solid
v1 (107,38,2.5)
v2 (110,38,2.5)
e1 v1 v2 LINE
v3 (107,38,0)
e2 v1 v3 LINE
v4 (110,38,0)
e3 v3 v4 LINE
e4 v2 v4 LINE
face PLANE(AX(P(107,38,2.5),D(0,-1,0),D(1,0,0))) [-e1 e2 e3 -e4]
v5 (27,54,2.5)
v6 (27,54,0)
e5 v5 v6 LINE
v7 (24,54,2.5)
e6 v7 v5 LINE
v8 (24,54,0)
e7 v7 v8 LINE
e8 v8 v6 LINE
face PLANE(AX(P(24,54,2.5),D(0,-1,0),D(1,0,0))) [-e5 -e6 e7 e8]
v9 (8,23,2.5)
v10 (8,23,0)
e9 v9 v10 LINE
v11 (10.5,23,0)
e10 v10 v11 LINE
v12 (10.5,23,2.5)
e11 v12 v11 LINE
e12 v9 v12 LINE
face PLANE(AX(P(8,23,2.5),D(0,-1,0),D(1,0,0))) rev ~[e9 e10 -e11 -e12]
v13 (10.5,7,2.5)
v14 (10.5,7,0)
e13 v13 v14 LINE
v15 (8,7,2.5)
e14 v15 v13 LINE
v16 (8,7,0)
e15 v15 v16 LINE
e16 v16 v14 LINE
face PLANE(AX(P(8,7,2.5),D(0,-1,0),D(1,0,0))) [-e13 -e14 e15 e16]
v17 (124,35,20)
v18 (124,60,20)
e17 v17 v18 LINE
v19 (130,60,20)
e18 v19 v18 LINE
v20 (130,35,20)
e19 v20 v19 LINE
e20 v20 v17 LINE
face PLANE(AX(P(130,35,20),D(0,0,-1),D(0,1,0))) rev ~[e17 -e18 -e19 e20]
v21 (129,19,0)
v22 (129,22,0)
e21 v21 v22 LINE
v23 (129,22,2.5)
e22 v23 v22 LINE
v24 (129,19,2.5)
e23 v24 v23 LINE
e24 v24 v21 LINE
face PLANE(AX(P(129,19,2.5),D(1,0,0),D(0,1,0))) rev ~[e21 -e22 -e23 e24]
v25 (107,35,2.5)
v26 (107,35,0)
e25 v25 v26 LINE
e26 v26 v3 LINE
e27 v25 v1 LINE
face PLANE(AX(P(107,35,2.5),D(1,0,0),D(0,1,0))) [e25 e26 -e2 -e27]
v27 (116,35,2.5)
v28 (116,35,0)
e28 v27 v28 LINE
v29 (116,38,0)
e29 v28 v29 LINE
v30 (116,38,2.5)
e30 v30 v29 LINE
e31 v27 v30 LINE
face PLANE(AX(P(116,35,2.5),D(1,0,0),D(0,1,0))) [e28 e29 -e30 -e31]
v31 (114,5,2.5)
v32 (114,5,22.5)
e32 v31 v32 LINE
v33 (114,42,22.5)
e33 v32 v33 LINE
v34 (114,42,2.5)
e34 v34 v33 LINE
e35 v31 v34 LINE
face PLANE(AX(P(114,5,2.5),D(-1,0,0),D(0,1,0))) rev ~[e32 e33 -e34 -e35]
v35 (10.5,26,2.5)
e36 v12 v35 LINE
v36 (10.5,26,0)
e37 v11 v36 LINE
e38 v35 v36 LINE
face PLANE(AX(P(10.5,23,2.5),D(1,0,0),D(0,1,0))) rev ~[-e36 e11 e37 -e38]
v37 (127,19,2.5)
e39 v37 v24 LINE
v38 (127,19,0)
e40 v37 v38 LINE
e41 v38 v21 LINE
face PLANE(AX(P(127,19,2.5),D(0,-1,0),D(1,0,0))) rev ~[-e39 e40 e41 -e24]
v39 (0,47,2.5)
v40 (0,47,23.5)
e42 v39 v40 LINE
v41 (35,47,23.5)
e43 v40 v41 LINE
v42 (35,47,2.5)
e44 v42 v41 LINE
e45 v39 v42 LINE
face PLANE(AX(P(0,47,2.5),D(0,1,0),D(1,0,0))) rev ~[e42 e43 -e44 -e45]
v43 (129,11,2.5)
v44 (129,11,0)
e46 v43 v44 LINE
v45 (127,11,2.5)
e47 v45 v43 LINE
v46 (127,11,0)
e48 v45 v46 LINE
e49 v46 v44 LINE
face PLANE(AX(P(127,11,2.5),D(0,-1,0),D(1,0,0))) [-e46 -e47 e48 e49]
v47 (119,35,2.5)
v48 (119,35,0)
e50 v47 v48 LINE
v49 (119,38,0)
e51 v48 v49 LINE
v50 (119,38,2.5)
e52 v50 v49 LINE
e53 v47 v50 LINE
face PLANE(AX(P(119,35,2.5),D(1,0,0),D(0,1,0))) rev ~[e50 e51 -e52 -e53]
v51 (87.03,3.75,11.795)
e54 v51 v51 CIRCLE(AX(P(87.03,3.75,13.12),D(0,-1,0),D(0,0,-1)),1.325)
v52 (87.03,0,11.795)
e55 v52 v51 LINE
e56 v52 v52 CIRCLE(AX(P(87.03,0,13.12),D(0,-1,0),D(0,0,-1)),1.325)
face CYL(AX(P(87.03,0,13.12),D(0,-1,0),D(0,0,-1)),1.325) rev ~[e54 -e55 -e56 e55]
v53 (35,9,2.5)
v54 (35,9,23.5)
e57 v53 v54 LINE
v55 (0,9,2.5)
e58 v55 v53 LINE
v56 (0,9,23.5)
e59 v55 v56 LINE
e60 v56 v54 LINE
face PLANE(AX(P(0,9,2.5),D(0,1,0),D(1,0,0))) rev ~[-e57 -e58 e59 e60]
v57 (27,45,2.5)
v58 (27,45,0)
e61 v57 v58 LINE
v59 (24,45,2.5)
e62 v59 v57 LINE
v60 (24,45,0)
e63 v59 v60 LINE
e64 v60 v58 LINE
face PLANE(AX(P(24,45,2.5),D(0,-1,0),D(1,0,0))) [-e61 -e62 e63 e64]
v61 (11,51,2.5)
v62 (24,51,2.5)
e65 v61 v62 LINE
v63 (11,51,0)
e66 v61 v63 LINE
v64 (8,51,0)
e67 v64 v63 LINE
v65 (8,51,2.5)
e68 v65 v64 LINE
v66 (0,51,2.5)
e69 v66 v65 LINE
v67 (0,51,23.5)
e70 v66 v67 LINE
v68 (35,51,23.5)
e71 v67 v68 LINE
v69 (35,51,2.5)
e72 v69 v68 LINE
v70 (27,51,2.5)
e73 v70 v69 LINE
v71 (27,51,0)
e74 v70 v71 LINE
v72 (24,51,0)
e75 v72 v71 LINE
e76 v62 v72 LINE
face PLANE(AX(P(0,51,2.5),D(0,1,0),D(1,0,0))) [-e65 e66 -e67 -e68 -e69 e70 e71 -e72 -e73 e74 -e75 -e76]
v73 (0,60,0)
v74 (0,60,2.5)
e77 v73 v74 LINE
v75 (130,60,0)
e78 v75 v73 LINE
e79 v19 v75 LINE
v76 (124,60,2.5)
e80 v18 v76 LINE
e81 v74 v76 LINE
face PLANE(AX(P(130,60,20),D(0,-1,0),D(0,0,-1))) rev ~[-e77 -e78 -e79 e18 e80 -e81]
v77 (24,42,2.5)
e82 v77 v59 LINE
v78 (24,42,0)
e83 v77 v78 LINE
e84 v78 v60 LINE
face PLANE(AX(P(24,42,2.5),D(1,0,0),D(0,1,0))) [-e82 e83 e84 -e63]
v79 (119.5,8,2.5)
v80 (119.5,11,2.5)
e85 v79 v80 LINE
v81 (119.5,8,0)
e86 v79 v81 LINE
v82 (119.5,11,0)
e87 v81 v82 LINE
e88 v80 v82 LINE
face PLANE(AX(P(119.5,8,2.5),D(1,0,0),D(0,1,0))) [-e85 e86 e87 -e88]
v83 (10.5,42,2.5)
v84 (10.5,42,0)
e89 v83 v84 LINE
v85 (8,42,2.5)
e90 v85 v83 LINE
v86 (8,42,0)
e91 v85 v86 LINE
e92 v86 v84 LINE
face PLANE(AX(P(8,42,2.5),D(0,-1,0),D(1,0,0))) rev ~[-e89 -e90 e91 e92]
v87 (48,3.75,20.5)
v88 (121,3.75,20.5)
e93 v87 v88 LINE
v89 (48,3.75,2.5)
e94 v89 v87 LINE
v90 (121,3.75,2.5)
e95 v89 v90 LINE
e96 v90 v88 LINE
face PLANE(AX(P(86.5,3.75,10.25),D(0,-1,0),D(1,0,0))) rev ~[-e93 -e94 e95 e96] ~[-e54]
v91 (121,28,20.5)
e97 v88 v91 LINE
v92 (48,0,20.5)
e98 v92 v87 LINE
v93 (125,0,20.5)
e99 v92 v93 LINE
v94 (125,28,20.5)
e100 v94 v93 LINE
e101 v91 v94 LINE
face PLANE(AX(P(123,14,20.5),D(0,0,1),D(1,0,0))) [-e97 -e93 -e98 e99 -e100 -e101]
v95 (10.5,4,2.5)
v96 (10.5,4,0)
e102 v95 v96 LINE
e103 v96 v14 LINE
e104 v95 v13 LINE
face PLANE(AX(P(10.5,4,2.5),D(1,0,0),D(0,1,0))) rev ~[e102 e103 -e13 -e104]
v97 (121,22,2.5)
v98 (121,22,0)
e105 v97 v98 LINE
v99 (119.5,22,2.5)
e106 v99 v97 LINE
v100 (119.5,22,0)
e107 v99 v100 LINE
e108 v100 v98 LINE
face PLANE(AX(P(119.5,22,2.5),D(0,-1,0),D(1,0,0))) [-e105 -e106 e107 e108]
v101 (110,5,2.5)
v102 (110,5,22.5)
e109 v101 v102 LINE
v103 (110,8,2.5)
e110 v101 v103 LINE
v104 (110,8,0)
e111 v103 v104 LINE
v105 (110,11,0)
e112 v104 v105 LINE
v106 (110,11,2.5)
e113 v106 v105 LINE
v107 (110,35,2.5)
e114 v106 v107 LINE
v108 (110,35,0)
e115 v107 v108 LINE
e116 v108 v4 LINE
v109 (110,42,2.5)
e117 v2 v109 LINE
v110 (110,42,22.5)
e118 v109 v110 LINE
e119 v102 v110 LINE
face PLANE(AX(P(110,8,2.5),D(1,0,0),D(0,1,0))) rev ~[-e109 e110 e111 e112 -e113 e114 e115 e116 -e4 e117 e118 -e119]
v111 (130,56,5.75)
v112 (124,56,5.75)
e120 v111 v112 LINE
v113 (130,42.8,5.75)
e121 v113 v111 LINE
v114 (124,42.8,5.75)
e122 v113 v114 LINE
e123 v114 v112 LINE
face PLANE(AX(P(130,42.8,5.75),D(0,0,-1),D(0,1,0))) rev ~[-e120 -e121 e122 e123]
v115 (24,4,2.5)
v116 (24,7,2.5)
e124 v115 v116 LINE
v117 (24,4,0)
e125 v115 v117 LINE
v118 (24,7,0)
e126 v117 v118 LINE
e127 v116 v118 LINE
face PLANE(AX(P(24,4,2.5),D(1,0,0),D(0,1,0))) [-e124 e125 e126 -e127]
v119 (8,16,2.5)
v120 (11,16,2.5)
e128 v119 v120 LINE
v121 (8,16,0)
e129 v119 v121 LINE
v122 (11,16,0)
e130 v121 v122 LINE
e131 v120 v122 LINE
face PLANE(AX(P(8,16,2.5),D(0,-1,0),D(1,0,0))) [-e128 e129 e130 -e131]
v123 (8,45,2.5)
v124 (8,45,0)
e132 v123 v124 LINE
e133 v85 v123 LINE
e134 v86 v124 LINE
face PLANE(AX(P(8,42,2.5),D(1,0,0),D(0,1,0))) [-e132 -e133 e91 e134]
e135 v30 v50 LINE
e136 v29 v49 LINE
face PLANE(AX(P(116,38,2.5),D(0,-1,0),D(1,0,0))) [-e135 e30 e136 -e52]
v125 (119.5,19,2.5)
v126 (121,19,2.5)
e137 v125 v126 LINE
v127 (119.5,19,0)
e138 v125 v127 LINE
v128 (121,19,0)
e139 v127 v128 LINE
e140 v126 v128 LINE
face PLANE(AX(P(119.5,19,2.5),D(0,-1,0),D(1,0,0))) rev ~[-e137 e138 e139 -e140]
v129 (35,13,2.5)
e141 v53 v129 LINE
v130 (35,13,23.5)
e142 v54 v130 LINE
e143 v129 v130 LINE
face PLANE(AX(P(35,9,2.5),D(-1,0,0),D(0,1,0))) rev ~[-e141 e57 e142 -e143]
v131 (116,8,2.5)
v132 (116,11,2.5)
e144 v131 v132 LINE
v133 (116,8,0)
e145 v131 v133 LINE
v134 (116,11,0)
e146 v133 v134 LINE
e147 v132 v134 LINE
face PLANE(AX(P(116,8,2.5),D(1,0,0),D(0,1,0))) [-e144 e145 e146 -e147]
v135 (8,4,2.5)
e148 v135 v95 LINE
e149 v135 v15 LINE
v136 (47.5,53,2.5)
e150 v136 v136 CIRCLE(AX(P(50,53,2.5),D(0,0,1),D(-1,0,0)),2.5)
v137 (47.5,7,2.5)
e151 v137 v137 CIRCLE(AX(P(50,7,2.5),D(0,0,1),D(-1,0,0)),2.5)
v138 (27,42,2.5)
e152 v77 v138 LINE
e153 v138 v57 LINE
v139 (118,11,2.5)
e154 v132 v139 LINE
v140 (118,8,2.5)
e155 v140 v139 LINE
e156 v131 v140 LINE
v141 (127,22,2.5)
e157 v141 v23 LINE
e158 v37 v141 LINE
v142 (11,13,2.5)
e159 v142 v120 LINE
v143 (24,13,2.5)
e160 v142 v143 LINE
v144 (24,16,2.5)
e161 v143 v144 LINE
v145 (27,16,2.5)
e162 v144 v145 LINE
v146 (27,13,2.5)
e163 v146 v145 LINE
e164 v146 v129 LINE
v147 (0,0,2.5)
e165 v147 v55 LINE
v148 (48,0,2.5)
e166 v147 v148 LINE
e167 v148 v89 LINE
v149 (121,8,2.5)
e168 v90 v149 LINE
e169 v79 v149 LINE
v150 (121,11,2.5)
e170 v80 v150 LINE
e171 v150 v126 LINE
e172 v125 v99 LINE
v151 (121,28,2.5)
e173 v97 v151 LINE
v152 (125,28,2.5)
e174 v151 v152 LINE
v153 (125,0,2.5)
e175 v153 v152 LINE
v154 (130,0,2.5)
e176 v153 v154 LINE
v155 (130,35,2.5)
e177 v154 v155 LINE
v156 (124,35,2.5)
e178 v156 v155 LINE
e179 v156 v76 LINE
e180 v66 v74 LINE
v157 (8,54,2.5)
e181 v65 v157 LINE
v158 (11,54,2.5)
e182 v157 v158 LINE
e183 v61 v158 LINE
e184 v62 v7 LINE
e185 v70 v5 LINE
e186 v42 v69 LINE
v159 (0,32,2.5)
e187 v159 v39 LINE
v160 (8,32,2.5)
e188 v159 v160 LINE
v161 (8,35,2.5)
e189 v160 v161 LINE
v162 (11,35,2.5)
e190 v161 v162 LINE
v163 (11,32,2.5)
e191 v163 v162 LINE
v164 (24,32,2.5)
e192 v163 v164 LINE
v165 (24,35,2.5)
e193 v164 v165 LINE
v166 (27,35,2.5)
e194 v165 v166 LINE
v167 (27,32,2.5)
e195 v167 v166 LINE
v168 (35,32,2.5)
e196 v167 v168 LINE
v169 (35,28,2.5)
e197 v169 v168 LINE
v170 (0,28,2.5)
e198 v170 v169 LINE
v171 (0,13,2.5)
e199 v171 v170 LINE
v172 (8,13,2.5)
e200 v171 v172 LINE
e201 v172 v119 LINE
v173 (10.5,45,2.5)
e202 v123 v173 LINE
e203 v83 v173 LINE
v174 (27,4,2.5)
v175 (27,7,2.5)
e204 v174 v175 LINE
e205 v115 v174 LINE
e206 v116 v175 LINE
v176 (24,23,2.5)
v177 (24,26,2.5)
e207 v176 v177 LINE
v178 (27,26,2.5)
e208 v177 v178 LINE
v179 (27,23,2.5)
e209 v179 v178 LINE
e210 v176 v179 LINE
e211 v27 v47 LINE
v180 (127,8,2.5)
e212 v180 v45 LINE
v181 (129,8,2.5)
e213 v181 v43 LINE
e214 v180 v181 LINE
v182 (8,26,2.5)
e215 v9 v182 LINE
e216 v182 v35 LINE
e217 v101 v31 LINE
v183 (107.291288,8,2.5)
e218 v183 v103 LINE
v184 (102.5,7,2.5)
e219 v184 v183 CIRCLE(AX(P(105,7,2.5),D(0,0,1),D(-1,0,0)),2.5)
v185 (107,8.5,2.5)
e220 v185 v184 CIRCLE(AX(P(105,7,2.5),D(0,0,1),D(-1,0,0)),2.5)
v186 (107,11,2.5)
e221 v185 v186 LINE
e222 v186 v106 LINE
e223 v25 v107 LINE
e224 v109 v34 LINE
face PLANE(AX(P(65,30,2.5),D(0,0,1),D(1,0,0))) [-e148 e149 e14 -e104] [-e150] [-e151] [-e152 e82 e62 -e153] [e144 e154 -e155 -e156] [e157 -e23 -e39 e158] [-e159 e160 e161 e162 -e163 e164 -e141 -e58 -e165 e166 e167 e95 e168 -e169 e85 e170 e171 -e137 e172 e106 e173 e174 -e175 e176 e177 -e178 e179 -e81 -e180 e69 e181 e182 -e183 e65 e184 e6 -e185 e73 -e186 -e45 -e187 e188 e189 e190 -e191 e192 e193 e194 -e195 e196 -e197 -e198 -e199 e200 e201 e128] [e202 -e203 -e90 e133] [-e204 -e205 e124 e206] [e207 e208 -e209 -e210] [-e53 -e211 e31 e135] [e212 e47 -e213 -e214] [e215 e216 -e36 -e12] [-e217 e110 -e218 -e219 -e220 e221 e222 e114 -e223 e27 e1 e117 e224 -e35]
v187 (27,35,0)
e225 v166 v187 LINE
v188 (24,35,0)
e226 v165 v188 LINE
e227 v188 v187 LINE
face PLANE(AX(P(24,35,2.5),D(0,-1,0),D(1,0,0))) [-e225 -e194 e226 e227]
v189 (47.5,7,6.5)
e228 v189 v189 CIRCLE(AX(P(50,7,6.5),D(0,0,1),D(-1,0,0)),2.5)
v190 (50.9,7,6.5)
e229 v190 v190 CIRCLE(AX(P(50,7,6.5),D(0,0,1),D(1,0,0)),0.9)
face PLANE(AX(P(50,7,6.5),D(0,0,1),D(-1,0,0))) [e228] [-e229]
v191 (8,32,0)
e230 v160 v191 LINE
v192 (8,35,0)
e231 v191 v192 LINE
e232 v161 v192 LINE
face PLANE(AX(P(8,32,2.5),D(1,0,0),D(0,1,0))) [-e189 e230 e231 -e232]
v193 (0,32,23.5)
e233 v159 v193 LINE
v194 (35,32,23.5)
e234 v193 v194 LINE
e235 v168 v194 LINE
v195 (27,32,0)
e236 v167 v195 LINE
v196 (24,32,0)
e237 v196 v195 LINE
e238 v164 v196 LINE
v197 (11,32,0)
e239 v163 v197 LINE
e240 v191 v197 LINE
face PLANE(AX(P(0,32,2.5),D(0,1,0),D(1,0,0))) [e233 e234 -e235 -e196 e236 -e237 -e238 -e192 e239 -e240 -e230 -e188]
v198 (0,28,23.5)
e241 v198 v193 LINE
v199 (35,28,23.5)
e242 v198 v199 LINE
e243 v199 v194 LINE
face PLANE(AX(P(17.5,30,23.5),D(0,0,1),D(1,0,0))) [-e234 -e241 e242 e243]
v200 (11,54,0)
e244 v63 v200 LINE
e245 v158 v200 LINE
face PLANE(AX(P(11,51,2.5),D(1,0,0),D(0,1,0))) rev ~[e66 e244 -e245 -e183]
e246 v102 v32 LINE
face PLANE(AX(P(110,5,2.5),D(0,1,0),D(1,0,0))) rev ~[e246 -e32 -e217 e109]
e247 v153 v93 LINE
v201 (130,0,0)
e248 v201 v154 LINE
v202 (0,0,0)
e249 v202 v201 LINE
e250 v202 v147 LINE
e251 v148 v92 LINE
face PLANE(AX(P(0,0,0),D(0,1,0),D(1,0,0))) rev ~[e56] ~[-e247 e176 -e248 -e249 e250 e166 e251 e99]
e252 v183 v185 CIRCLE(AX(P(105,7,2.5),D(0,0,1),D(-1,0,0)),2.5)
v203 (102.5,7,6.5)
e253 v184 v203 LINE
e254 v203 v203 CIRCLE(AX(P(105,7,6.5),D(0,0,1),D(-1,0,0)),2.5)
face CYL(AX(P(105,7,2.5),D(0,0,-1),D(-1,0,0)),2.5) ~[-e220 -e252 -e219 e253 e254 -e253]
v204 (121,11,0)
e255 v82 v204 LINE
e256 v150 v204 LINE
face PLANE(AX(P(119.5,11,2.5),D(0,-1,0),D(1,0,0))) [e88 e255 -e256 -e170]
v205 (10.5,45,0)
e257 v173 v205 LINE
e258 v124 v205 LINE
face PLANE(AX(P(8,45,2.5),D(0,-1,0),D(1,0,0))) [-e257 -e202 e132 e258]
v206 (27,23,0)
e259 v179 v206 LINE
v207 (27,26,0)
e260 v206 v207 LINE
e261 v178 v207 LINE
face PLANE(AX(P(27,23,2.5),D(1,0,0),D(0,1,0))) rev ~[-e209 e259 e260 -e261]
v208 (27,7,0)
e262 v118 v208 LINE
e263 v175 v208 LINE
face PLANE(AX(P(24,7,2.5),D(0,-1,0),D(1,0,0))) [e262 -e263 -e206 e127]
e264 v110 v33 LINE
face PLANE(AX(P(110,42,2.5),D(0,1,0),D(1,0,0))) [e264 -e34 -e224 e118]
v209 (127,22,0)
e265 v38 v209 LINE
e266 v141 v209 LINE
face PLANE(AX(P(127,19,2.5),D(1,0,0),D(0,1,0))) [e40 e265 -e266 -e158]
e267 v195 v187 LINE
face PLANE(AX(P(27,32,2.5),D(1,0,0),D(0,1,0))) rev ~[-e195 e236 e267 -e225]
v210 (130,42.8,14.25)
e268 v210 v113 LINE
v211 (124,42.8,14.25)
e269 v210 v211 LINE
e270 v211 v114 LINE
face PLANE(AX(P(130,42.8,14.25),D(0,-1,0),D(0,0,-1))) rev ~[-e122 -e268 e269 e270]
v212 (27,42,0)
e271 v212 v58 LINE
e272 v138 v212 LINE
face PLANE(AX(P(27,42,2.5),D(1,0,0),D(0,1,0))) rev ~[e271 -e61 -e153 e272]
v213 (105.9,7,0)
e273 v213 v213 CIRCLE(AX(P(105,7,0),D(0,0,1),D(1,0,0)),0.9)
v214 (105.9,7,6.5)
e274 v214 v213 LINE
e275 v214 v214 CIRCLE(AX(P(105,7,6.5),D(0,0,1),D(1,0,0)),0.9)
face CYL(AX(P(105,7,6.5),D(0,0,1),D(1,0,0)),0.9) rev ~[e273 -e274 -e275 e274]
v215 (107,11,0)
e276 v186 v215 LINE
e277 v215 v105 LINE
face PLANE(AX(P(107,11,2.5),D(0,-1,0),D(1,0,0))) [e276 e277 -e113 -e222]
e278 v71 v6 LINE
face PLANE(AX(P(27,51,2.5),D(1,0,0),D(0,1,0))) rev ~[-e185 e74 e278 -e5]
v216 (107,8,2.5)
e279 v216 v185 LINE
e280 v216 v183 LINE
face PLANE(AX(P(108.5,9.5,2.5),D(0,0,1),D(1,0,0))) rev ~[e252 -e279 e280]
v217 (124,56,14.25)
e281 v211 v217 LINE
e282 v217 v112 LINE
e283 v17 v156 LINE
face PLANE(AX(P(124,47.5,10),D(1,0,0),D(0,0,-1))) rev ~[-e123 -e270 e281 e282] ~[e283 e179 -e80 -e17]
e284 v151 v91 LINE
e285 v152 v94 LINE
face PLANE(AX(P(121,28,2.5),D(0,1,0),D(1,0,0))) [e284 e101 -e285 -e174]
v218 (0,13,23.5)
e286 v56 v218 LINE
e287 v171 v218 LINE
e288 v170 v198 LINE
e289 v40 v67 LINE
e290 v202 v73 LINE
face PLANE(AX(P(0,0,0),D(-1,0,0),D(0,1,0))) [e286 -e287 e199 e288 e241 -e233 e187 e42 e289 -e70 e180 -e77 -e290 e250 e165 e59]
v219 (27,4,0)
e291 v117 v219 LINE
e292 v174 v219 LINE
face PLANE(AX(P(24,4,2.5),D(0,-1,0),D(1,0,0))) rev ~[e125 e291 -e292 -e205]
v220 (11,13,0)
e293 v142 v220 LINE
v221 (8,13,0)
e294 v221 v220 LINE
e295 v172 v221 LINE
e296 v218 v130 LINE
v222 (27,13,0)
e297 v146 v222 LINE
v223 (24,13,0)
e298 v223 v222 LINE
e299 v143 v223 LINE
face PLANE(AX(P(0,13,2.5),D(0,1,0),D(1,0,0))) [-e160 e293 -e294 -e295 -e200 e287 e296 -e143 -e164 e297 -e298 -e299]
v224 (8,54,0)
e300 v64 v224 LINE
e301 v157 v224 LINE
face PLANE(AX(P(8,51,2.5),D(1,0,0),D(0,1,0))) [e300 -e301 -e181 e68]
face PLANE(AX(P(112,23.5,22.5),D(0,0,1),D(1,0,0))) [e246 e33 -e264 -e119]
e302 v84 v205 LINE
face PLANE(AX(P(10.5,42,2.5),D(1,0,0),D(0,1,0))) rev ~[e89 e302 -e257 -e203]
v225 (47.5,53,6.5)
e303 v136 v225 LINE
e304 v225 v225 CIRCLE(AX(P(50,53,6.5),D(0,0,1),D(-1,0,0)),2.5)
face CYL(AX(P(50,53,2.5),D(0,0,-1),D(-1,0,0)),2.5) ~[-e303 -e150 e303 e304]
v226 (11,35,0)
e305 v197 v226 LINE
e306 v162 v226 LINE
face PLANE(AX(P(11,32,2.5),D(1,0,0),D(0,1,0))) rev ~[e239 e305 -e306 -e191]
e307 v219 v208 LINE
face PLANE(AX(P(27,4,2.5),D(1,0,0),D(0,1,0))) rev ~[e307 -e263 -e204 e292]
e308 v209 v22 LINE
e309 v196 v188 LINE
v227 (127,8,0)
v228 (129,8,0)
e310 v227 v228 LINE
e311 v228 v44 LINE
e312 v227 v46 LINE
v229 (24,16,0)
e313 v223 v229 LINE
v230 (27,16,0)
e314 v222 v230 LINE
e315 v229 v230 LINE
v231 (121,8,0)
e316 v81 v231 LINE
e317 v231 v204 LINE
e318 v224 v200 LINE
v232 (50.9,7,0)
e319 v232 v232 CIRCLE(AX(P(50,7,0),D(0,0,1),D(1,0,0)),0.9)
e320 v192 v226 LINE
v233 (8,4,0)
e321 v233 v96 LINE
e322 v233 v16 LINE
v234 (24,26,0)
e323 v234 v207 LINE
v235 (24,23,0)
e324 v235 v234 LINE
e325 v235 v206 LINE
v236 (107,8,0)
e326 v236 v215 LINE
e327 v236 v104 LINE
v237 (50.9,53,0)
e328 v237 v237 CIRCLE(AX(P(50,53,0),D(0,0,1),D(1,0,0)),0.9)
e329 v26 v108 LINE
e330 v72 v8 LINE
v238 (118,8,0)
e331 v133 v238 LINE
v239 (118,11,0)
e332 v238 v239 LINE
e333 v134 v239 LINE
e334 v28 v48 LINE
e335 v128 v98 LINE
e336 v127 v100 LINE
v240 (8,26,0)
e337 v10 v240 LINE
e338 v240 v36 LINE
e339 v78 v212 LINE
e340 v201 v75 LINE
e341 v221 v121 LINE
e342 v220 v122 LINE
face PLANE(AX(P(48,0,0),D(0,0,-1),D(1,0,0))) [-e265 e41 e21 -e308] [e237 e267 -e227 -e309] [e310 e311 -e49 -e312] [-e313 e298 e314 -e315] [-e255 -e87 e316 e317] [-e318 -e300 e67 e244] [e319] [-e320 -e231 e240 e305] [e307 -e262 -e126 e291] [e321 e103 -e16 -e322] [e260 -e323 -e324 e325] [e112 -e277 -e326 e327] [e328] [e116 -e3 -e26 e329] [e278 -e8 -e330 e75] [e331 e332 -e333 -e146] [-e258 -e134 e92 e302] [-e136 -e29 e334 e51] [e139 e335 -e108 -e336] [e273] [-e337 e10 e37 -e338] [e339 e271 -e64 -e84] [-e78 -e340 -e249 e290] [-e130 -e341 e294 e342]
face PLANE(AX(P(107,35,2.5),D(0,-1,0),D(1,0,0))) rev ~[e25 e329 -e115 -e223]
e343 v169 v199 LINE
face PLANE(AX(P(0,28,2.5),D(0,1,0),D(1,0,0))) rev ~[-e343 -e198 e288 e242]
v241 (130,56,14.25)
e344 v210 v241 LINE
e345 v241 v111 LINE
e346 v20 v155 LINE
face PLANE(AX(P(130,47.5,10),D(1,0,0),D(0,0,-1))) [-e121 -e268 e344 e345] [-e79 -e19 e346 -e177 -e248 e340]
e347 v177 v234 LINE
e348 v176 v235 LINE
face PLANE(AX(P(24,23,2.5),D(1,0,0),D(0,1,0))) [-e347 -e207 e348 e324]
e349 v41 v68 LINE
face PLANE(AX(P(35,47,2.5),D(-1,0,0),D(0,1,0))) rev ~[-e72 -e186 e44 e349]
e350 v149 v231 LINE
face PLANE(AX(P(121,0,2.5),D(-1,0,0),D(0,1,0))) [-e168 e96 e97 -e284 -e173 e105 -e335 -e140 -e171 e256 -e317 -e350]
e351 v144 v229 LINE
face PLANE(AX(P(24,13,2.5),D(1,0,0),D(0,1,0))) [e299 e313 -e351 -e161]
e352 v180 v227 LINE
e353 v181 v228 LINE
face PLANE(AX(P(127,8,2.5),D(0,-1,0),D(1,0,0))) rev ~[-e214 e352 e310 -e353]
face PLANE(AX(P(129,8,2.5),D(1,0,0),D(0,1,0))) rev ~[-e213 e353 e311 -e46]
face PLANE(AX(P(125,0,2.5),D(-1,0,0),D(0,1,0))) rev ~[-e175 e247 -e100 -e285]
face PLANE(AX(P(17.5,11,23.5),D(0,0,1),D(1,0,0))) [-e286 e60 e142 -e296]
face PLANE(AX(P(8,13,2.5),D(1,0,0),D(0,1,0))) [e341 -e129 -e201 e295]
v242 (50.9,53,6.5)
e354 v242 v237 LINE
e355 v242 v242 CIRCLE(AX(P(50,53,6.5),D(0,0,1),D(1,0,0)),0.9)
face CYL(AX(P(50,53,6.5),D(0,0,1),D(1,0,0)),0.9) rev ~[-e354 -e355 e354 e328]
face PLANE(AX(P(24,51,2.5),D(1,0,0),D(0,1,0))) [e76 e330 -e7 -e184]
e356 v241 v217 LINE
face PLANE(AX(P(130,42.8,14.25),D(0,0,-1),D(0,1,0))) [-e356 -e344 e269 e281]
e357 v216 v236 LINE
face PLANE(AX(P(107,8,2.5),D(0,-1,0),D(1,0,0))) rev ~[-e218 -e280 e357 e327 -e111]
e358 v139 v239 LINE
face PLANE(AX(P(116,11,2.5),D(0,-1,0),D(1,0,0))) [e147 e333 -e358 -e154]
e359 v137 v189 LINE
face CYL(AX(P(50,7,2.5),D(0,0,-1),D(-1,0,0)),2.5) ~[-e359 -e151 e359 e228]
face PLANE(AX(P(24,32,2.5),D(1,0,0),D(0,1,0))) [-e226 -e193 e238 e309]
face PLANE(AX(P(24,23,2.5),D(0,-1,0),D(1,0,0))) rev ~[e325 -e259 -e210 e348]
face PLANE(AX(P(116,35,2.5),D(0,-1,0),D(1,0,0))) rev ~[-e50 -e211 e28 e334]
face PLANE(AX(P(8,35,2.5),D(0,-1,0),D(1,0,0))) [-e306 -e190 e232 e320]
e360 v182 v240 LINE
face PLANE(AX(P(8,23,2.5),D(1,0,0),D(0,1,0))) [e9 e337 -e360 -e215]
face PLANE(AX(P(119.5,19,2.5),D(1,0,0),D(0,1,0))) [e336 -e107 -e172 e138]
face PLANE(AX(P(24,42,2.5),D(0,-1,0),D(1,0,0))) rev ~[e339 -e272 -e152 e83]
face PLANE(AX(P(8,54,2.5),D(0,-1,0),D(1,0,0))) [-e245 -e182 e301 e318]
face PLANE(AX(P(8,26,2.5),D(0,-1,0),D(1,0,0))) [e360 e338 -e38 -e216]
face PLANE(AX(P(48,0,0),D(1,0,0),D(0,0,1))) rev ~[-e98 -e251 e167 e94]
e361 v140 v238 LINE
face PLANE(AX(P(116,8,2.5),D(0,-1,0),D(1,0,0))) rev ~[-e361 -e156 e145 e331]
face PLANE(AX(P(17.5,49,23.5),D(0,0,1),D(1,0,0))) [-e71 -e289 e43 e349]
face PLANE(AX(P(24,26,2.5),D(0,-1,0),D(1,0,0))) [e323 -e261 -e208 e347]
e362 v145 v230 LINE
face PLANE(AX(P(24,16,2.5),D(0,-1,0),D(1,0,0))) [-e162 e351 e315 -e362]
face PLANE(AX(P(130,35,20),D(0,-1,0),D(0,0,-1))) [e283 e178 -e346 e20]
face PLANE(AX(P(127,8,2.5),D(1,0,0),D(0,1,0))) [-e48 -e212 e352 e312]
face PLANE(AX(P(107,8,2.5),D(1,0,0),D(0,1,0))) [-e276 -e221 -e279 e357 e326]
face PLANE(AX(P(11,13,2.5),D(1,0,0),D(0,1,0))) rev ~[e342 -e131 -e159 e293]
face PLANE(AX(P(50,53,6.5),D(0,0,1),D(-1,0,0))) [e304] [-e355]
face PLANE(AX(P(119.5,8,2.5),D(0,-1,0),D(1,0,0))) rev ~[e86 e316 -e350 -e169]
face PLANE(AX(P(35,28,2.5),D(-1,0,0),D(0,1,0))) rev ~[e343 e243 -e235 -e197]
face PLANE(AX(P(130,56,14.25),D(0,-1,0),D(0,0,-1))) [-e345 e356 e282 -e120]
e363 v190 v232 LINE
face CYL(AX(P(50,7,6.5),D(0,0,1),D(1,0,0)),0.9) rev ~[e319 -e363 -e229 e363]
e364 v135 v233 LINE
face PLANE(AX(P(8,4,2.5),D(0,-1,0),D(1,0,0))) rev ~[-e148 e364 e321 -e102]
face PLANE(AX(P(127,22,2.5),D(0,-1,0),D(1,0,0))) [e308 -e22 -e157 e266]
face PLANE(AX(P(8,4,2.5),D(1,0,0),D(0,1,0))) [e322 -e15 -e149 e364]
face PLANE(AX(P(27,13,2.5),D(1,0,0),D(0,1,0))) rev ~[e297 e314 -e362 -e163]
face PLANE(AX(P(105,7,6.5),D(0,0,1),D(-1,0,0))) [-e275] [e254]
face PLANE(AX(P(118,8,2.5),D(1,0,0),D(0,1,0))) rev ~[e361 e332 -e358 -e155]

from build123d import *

# Parameters (mm, degrees)
SKETCH1_W           = 130
SKETCH1_H           = 60
BOSS_EXTRUDE1_DEPTH = 2.5
SKETCH2_R           = 2.5
BOSS_EXTRUDE2_DEPTH = 4
SKETCH3_W           = 4
SKETCH3_H           = 37
BOSS_EXTRUDE3_DEPTH = 20
SKETCH4_W           = 4
SKETCH4_H           = 28
BOSS_EXTRUDE4_DEPTH = 18
SKETCH5_R           = 0.9
CUT_EXTRUDE1_DEPTH  = 145.069427708
SKETCH6_W           = 3
SKETCH6_H           = 3
SKETCH6_W_2         = 1.5
SKETCH6_W_3         = 2
CUT_EXTRUDE2_DEPTH  = 145.568322948
SKETCH7_W           = 20
SKETCH7_H           = 25
SKETCH7_W_2         = 8.5
SKETCH7_H_2         = 13.2
BOSS_EXTRUDE5_DEPTH = 6
SKETCH8_W           = 35
SKETCH8_H           = 4
BOSS_EXTRUDE6_DEPTH = 21
SKETCH9_W           = 3
SKETCH9_H           = 3
SKETCH9_W_2         = 2.5
CUT_EXTRUDE3_DEPTH  = 145.710054937
SKETCH11_W          = 77
SKETCH11_H          = 20.5
BOSS_EXTRUDE8_DEPTH = 3.75
SKETCH12_R          = 1.325
CUT_EXTRUDE4_DEPTH  = 146.09393509


with BuildPart() as part:
    # Sketch1 → Boss-Extrude1 (new body)
    with BuildSketch(Plane.XY):
        with Locations((65, 30)):
            Rectangle(SKETCH1_W, SKETCH1_H)
    extrude(amount=BOSS_EXTRUDE1_DEPTH)

    # Sketch2 → Boss-Extrude2 (add)
    with BuildSketch(Plane.XY.offset(2.5)):
        with Locations(Location((50, 7, 0), (0, 0, 180))):
            Circle(SKETCH2_R)
        with Locations(Location((105, 7, 0), (0, 0, 180))):
            Circle(SKETCH2_R)
        with Locations(Location((50, 53, 0), (0, 0, 180))):
            Circle(SKETCH2_R)
    extrude(amount=BOSS_EXTRUDE2_DEPTH)

    # Sketch3 → Boss-Extrude3 (add)
    with BuildSketch(Plane.XY.offset(2.5)):
        with Locations((112, 23.5)):
            Rectangle(SKETCH3_W, SKETCH3_H)
    extrude(amount=BOSS_EXTRUDE3_DEPTH)

    # Sketch4 → Boss-Extrude4 (add)
    with BuildSketch(Plane.XY.offset(2.5)):
        with Locations((123, 14)):
            Rectangle(SKETCH4_W, SKETCH4_H)
    extrude(amount=BOSS_EXTRUDE4_DEPTH)

    # Sketch5 → Cut-Extrude1 (cut, through all)
    with BuildSketch(Plane.XY.offset(6.5)):
        with Locations((105, 7)):
            Circle(SKETCH5_R)
        with Locations((50, 7)):
            Circle(SKETCH5_R)
        with Locations((50, 53)):
            Circle(SKETCH5_R)
    extrude(amount=-CUT_EXTRUDE1_DEPTH, mode=Mode.SUBTRACT)

    # Sketch6 → Cut-Extrude2 (cut, through all)
    with BuildSketch(Plane.XY.offset(2.5)):
        with Locations((108.5, 36.5)):
            Rectangle(SKETCH6_W, SKETCH6_H)
        with Locations((108.5, 9.5)):
            Rectangle(SKETCH6_W, SKETCH6_H)
        with Locations((120.25, 20.5)):
            Rectangle(SKETCH6_W_2, SKETCH6_H)
        with Locations((128, 20.5)):
            Rectangle(SKETCH6_W_3, SKETCH6_H)
        with Locations((128, 9.5)):
            Rectangle(SKETCH6_W_3, SKETCH6_H)
        with Locations((120.25, 9.5)):
            Rectangle(SKETCH6_W_2, SKETCH6_H)
        with Locations((117, 9.5)):
            Rectangle(SKETCH6_W_3, SKETCH6_H)
        with Locations((117.5, 36.5)):
            Rectangle(SKETCH6_W, SKETCH6_H)
    extrude(amount=-CUT_EXTRUDE2_DEPTH, mode=Mode.SUBTRACT)

    # Sketch7 → Boss-Extrude5 (add)
    with BuildSketch(Plane(origin=(130, 0, 0), x_dir=(0, 0, -1), z_dir=(1, 0, 0))):
        with Locations((-10, 47.5)):
            Rectangle(SKETCH7_W, SKETCH7_H)
        with Locations((-10, 49.4)):
            Rectangle(SKETCH7_W_2, SKETCH7_H_2, mode=Mode.SUBTRACT)
    extrude(amount=-BOSS_EXTRUDE5_DEPTH)

    # Sketch8 → Boss-Extrude6 (add)
    with BuildSketch(Plane.XY.offset(2.5)):
        with Locations((17.5, 49)):
            Rectangle(SKETCH8_W, SKETCH8_H)
        with Locations((17.5, 30)):
            Rectangle(SKETCH8_W, SKETCH8_H)
        with Locations((17.5, 11)):
            Rectangle(SKETCH8_W, SKETCH8_H)
    extrude(amount=BOSS_EXTRUDE6_DEPTH)

    # Sketch9 → Cut-Extrude3 (cut, through all)
    with BuildSketch(Plane.XY.offset(2.5)):
        with Locations((9.5, 14.5)):
            Rectangle(SKETCH9_W, SKETCH9_H)
        with Locations((25.5, 14.5)):
            Rectangle(SKETCH9_W, SKETCH9_H)
        with Locations((9.5, 33.5)):
            Rectangle(SKETCH9_W, SKETCH9_H)
        with Locations((25.5, 33.5)):
            Rectangle(SKETCH9_W, SKETCH9_H)
        with Locations((9.5, 52.5)):
            Rectangle(SKETCH9_W, SKETCH9_H)
        with Locations((25.5, 52.5)):
            Rectangle(SKETCH9_W, SKETCH9_H)
        with Locations((9.25, 5.5)):
            Rectangle(SKETCH9_W_2, SKETCH9_H)
        with Locations((9.25, 24.5)):
            Rectangle(SKETCH9_W_2, SKETCH9_H)
        with Locations((25.5, 24.5)):
            Rectangle(SKETCH9_W, SKETCH9_H)
        with Locations((25.5, 5.5)):
            Rectangle(SKETCH9_W, SKETCH9_H)
        with Locations((25.5, 43.5)):
            Rectangle(SKETCH9_W, SKETCH9_H)
        with Locations((9.25, 43.5)):
            Rectangle(SKETCH9_W_2, SKETCH9_H)
    extrude(amount=-CUT_EXTRUDE3_DEPTH, mode=Mode.SUBTRACT)

    # Sketch11 → Boss-Extrude8 (add)
    with BuildSketch(Plane.XZ):
        with Locations((86.5, 10.25)):
            Rectangle(SKETCH11_W, SKETCH11_H)
    extrude(amount=-BOSS_EXTRUDE8_DEPTH)

    # Sketch12 → Cut-Extrude4 (cut, through all)
    with BuildSketch(Plane.XZ):
        with Locations(Location((87.03, 13.12, 0), (0, 0, 270))):
            Circle(SKETCH12_R)
    extrude(amount=-CUT_EXTRUDE4_DEPTH, mode=Mode.SUBTRACT)


solid = part.part
